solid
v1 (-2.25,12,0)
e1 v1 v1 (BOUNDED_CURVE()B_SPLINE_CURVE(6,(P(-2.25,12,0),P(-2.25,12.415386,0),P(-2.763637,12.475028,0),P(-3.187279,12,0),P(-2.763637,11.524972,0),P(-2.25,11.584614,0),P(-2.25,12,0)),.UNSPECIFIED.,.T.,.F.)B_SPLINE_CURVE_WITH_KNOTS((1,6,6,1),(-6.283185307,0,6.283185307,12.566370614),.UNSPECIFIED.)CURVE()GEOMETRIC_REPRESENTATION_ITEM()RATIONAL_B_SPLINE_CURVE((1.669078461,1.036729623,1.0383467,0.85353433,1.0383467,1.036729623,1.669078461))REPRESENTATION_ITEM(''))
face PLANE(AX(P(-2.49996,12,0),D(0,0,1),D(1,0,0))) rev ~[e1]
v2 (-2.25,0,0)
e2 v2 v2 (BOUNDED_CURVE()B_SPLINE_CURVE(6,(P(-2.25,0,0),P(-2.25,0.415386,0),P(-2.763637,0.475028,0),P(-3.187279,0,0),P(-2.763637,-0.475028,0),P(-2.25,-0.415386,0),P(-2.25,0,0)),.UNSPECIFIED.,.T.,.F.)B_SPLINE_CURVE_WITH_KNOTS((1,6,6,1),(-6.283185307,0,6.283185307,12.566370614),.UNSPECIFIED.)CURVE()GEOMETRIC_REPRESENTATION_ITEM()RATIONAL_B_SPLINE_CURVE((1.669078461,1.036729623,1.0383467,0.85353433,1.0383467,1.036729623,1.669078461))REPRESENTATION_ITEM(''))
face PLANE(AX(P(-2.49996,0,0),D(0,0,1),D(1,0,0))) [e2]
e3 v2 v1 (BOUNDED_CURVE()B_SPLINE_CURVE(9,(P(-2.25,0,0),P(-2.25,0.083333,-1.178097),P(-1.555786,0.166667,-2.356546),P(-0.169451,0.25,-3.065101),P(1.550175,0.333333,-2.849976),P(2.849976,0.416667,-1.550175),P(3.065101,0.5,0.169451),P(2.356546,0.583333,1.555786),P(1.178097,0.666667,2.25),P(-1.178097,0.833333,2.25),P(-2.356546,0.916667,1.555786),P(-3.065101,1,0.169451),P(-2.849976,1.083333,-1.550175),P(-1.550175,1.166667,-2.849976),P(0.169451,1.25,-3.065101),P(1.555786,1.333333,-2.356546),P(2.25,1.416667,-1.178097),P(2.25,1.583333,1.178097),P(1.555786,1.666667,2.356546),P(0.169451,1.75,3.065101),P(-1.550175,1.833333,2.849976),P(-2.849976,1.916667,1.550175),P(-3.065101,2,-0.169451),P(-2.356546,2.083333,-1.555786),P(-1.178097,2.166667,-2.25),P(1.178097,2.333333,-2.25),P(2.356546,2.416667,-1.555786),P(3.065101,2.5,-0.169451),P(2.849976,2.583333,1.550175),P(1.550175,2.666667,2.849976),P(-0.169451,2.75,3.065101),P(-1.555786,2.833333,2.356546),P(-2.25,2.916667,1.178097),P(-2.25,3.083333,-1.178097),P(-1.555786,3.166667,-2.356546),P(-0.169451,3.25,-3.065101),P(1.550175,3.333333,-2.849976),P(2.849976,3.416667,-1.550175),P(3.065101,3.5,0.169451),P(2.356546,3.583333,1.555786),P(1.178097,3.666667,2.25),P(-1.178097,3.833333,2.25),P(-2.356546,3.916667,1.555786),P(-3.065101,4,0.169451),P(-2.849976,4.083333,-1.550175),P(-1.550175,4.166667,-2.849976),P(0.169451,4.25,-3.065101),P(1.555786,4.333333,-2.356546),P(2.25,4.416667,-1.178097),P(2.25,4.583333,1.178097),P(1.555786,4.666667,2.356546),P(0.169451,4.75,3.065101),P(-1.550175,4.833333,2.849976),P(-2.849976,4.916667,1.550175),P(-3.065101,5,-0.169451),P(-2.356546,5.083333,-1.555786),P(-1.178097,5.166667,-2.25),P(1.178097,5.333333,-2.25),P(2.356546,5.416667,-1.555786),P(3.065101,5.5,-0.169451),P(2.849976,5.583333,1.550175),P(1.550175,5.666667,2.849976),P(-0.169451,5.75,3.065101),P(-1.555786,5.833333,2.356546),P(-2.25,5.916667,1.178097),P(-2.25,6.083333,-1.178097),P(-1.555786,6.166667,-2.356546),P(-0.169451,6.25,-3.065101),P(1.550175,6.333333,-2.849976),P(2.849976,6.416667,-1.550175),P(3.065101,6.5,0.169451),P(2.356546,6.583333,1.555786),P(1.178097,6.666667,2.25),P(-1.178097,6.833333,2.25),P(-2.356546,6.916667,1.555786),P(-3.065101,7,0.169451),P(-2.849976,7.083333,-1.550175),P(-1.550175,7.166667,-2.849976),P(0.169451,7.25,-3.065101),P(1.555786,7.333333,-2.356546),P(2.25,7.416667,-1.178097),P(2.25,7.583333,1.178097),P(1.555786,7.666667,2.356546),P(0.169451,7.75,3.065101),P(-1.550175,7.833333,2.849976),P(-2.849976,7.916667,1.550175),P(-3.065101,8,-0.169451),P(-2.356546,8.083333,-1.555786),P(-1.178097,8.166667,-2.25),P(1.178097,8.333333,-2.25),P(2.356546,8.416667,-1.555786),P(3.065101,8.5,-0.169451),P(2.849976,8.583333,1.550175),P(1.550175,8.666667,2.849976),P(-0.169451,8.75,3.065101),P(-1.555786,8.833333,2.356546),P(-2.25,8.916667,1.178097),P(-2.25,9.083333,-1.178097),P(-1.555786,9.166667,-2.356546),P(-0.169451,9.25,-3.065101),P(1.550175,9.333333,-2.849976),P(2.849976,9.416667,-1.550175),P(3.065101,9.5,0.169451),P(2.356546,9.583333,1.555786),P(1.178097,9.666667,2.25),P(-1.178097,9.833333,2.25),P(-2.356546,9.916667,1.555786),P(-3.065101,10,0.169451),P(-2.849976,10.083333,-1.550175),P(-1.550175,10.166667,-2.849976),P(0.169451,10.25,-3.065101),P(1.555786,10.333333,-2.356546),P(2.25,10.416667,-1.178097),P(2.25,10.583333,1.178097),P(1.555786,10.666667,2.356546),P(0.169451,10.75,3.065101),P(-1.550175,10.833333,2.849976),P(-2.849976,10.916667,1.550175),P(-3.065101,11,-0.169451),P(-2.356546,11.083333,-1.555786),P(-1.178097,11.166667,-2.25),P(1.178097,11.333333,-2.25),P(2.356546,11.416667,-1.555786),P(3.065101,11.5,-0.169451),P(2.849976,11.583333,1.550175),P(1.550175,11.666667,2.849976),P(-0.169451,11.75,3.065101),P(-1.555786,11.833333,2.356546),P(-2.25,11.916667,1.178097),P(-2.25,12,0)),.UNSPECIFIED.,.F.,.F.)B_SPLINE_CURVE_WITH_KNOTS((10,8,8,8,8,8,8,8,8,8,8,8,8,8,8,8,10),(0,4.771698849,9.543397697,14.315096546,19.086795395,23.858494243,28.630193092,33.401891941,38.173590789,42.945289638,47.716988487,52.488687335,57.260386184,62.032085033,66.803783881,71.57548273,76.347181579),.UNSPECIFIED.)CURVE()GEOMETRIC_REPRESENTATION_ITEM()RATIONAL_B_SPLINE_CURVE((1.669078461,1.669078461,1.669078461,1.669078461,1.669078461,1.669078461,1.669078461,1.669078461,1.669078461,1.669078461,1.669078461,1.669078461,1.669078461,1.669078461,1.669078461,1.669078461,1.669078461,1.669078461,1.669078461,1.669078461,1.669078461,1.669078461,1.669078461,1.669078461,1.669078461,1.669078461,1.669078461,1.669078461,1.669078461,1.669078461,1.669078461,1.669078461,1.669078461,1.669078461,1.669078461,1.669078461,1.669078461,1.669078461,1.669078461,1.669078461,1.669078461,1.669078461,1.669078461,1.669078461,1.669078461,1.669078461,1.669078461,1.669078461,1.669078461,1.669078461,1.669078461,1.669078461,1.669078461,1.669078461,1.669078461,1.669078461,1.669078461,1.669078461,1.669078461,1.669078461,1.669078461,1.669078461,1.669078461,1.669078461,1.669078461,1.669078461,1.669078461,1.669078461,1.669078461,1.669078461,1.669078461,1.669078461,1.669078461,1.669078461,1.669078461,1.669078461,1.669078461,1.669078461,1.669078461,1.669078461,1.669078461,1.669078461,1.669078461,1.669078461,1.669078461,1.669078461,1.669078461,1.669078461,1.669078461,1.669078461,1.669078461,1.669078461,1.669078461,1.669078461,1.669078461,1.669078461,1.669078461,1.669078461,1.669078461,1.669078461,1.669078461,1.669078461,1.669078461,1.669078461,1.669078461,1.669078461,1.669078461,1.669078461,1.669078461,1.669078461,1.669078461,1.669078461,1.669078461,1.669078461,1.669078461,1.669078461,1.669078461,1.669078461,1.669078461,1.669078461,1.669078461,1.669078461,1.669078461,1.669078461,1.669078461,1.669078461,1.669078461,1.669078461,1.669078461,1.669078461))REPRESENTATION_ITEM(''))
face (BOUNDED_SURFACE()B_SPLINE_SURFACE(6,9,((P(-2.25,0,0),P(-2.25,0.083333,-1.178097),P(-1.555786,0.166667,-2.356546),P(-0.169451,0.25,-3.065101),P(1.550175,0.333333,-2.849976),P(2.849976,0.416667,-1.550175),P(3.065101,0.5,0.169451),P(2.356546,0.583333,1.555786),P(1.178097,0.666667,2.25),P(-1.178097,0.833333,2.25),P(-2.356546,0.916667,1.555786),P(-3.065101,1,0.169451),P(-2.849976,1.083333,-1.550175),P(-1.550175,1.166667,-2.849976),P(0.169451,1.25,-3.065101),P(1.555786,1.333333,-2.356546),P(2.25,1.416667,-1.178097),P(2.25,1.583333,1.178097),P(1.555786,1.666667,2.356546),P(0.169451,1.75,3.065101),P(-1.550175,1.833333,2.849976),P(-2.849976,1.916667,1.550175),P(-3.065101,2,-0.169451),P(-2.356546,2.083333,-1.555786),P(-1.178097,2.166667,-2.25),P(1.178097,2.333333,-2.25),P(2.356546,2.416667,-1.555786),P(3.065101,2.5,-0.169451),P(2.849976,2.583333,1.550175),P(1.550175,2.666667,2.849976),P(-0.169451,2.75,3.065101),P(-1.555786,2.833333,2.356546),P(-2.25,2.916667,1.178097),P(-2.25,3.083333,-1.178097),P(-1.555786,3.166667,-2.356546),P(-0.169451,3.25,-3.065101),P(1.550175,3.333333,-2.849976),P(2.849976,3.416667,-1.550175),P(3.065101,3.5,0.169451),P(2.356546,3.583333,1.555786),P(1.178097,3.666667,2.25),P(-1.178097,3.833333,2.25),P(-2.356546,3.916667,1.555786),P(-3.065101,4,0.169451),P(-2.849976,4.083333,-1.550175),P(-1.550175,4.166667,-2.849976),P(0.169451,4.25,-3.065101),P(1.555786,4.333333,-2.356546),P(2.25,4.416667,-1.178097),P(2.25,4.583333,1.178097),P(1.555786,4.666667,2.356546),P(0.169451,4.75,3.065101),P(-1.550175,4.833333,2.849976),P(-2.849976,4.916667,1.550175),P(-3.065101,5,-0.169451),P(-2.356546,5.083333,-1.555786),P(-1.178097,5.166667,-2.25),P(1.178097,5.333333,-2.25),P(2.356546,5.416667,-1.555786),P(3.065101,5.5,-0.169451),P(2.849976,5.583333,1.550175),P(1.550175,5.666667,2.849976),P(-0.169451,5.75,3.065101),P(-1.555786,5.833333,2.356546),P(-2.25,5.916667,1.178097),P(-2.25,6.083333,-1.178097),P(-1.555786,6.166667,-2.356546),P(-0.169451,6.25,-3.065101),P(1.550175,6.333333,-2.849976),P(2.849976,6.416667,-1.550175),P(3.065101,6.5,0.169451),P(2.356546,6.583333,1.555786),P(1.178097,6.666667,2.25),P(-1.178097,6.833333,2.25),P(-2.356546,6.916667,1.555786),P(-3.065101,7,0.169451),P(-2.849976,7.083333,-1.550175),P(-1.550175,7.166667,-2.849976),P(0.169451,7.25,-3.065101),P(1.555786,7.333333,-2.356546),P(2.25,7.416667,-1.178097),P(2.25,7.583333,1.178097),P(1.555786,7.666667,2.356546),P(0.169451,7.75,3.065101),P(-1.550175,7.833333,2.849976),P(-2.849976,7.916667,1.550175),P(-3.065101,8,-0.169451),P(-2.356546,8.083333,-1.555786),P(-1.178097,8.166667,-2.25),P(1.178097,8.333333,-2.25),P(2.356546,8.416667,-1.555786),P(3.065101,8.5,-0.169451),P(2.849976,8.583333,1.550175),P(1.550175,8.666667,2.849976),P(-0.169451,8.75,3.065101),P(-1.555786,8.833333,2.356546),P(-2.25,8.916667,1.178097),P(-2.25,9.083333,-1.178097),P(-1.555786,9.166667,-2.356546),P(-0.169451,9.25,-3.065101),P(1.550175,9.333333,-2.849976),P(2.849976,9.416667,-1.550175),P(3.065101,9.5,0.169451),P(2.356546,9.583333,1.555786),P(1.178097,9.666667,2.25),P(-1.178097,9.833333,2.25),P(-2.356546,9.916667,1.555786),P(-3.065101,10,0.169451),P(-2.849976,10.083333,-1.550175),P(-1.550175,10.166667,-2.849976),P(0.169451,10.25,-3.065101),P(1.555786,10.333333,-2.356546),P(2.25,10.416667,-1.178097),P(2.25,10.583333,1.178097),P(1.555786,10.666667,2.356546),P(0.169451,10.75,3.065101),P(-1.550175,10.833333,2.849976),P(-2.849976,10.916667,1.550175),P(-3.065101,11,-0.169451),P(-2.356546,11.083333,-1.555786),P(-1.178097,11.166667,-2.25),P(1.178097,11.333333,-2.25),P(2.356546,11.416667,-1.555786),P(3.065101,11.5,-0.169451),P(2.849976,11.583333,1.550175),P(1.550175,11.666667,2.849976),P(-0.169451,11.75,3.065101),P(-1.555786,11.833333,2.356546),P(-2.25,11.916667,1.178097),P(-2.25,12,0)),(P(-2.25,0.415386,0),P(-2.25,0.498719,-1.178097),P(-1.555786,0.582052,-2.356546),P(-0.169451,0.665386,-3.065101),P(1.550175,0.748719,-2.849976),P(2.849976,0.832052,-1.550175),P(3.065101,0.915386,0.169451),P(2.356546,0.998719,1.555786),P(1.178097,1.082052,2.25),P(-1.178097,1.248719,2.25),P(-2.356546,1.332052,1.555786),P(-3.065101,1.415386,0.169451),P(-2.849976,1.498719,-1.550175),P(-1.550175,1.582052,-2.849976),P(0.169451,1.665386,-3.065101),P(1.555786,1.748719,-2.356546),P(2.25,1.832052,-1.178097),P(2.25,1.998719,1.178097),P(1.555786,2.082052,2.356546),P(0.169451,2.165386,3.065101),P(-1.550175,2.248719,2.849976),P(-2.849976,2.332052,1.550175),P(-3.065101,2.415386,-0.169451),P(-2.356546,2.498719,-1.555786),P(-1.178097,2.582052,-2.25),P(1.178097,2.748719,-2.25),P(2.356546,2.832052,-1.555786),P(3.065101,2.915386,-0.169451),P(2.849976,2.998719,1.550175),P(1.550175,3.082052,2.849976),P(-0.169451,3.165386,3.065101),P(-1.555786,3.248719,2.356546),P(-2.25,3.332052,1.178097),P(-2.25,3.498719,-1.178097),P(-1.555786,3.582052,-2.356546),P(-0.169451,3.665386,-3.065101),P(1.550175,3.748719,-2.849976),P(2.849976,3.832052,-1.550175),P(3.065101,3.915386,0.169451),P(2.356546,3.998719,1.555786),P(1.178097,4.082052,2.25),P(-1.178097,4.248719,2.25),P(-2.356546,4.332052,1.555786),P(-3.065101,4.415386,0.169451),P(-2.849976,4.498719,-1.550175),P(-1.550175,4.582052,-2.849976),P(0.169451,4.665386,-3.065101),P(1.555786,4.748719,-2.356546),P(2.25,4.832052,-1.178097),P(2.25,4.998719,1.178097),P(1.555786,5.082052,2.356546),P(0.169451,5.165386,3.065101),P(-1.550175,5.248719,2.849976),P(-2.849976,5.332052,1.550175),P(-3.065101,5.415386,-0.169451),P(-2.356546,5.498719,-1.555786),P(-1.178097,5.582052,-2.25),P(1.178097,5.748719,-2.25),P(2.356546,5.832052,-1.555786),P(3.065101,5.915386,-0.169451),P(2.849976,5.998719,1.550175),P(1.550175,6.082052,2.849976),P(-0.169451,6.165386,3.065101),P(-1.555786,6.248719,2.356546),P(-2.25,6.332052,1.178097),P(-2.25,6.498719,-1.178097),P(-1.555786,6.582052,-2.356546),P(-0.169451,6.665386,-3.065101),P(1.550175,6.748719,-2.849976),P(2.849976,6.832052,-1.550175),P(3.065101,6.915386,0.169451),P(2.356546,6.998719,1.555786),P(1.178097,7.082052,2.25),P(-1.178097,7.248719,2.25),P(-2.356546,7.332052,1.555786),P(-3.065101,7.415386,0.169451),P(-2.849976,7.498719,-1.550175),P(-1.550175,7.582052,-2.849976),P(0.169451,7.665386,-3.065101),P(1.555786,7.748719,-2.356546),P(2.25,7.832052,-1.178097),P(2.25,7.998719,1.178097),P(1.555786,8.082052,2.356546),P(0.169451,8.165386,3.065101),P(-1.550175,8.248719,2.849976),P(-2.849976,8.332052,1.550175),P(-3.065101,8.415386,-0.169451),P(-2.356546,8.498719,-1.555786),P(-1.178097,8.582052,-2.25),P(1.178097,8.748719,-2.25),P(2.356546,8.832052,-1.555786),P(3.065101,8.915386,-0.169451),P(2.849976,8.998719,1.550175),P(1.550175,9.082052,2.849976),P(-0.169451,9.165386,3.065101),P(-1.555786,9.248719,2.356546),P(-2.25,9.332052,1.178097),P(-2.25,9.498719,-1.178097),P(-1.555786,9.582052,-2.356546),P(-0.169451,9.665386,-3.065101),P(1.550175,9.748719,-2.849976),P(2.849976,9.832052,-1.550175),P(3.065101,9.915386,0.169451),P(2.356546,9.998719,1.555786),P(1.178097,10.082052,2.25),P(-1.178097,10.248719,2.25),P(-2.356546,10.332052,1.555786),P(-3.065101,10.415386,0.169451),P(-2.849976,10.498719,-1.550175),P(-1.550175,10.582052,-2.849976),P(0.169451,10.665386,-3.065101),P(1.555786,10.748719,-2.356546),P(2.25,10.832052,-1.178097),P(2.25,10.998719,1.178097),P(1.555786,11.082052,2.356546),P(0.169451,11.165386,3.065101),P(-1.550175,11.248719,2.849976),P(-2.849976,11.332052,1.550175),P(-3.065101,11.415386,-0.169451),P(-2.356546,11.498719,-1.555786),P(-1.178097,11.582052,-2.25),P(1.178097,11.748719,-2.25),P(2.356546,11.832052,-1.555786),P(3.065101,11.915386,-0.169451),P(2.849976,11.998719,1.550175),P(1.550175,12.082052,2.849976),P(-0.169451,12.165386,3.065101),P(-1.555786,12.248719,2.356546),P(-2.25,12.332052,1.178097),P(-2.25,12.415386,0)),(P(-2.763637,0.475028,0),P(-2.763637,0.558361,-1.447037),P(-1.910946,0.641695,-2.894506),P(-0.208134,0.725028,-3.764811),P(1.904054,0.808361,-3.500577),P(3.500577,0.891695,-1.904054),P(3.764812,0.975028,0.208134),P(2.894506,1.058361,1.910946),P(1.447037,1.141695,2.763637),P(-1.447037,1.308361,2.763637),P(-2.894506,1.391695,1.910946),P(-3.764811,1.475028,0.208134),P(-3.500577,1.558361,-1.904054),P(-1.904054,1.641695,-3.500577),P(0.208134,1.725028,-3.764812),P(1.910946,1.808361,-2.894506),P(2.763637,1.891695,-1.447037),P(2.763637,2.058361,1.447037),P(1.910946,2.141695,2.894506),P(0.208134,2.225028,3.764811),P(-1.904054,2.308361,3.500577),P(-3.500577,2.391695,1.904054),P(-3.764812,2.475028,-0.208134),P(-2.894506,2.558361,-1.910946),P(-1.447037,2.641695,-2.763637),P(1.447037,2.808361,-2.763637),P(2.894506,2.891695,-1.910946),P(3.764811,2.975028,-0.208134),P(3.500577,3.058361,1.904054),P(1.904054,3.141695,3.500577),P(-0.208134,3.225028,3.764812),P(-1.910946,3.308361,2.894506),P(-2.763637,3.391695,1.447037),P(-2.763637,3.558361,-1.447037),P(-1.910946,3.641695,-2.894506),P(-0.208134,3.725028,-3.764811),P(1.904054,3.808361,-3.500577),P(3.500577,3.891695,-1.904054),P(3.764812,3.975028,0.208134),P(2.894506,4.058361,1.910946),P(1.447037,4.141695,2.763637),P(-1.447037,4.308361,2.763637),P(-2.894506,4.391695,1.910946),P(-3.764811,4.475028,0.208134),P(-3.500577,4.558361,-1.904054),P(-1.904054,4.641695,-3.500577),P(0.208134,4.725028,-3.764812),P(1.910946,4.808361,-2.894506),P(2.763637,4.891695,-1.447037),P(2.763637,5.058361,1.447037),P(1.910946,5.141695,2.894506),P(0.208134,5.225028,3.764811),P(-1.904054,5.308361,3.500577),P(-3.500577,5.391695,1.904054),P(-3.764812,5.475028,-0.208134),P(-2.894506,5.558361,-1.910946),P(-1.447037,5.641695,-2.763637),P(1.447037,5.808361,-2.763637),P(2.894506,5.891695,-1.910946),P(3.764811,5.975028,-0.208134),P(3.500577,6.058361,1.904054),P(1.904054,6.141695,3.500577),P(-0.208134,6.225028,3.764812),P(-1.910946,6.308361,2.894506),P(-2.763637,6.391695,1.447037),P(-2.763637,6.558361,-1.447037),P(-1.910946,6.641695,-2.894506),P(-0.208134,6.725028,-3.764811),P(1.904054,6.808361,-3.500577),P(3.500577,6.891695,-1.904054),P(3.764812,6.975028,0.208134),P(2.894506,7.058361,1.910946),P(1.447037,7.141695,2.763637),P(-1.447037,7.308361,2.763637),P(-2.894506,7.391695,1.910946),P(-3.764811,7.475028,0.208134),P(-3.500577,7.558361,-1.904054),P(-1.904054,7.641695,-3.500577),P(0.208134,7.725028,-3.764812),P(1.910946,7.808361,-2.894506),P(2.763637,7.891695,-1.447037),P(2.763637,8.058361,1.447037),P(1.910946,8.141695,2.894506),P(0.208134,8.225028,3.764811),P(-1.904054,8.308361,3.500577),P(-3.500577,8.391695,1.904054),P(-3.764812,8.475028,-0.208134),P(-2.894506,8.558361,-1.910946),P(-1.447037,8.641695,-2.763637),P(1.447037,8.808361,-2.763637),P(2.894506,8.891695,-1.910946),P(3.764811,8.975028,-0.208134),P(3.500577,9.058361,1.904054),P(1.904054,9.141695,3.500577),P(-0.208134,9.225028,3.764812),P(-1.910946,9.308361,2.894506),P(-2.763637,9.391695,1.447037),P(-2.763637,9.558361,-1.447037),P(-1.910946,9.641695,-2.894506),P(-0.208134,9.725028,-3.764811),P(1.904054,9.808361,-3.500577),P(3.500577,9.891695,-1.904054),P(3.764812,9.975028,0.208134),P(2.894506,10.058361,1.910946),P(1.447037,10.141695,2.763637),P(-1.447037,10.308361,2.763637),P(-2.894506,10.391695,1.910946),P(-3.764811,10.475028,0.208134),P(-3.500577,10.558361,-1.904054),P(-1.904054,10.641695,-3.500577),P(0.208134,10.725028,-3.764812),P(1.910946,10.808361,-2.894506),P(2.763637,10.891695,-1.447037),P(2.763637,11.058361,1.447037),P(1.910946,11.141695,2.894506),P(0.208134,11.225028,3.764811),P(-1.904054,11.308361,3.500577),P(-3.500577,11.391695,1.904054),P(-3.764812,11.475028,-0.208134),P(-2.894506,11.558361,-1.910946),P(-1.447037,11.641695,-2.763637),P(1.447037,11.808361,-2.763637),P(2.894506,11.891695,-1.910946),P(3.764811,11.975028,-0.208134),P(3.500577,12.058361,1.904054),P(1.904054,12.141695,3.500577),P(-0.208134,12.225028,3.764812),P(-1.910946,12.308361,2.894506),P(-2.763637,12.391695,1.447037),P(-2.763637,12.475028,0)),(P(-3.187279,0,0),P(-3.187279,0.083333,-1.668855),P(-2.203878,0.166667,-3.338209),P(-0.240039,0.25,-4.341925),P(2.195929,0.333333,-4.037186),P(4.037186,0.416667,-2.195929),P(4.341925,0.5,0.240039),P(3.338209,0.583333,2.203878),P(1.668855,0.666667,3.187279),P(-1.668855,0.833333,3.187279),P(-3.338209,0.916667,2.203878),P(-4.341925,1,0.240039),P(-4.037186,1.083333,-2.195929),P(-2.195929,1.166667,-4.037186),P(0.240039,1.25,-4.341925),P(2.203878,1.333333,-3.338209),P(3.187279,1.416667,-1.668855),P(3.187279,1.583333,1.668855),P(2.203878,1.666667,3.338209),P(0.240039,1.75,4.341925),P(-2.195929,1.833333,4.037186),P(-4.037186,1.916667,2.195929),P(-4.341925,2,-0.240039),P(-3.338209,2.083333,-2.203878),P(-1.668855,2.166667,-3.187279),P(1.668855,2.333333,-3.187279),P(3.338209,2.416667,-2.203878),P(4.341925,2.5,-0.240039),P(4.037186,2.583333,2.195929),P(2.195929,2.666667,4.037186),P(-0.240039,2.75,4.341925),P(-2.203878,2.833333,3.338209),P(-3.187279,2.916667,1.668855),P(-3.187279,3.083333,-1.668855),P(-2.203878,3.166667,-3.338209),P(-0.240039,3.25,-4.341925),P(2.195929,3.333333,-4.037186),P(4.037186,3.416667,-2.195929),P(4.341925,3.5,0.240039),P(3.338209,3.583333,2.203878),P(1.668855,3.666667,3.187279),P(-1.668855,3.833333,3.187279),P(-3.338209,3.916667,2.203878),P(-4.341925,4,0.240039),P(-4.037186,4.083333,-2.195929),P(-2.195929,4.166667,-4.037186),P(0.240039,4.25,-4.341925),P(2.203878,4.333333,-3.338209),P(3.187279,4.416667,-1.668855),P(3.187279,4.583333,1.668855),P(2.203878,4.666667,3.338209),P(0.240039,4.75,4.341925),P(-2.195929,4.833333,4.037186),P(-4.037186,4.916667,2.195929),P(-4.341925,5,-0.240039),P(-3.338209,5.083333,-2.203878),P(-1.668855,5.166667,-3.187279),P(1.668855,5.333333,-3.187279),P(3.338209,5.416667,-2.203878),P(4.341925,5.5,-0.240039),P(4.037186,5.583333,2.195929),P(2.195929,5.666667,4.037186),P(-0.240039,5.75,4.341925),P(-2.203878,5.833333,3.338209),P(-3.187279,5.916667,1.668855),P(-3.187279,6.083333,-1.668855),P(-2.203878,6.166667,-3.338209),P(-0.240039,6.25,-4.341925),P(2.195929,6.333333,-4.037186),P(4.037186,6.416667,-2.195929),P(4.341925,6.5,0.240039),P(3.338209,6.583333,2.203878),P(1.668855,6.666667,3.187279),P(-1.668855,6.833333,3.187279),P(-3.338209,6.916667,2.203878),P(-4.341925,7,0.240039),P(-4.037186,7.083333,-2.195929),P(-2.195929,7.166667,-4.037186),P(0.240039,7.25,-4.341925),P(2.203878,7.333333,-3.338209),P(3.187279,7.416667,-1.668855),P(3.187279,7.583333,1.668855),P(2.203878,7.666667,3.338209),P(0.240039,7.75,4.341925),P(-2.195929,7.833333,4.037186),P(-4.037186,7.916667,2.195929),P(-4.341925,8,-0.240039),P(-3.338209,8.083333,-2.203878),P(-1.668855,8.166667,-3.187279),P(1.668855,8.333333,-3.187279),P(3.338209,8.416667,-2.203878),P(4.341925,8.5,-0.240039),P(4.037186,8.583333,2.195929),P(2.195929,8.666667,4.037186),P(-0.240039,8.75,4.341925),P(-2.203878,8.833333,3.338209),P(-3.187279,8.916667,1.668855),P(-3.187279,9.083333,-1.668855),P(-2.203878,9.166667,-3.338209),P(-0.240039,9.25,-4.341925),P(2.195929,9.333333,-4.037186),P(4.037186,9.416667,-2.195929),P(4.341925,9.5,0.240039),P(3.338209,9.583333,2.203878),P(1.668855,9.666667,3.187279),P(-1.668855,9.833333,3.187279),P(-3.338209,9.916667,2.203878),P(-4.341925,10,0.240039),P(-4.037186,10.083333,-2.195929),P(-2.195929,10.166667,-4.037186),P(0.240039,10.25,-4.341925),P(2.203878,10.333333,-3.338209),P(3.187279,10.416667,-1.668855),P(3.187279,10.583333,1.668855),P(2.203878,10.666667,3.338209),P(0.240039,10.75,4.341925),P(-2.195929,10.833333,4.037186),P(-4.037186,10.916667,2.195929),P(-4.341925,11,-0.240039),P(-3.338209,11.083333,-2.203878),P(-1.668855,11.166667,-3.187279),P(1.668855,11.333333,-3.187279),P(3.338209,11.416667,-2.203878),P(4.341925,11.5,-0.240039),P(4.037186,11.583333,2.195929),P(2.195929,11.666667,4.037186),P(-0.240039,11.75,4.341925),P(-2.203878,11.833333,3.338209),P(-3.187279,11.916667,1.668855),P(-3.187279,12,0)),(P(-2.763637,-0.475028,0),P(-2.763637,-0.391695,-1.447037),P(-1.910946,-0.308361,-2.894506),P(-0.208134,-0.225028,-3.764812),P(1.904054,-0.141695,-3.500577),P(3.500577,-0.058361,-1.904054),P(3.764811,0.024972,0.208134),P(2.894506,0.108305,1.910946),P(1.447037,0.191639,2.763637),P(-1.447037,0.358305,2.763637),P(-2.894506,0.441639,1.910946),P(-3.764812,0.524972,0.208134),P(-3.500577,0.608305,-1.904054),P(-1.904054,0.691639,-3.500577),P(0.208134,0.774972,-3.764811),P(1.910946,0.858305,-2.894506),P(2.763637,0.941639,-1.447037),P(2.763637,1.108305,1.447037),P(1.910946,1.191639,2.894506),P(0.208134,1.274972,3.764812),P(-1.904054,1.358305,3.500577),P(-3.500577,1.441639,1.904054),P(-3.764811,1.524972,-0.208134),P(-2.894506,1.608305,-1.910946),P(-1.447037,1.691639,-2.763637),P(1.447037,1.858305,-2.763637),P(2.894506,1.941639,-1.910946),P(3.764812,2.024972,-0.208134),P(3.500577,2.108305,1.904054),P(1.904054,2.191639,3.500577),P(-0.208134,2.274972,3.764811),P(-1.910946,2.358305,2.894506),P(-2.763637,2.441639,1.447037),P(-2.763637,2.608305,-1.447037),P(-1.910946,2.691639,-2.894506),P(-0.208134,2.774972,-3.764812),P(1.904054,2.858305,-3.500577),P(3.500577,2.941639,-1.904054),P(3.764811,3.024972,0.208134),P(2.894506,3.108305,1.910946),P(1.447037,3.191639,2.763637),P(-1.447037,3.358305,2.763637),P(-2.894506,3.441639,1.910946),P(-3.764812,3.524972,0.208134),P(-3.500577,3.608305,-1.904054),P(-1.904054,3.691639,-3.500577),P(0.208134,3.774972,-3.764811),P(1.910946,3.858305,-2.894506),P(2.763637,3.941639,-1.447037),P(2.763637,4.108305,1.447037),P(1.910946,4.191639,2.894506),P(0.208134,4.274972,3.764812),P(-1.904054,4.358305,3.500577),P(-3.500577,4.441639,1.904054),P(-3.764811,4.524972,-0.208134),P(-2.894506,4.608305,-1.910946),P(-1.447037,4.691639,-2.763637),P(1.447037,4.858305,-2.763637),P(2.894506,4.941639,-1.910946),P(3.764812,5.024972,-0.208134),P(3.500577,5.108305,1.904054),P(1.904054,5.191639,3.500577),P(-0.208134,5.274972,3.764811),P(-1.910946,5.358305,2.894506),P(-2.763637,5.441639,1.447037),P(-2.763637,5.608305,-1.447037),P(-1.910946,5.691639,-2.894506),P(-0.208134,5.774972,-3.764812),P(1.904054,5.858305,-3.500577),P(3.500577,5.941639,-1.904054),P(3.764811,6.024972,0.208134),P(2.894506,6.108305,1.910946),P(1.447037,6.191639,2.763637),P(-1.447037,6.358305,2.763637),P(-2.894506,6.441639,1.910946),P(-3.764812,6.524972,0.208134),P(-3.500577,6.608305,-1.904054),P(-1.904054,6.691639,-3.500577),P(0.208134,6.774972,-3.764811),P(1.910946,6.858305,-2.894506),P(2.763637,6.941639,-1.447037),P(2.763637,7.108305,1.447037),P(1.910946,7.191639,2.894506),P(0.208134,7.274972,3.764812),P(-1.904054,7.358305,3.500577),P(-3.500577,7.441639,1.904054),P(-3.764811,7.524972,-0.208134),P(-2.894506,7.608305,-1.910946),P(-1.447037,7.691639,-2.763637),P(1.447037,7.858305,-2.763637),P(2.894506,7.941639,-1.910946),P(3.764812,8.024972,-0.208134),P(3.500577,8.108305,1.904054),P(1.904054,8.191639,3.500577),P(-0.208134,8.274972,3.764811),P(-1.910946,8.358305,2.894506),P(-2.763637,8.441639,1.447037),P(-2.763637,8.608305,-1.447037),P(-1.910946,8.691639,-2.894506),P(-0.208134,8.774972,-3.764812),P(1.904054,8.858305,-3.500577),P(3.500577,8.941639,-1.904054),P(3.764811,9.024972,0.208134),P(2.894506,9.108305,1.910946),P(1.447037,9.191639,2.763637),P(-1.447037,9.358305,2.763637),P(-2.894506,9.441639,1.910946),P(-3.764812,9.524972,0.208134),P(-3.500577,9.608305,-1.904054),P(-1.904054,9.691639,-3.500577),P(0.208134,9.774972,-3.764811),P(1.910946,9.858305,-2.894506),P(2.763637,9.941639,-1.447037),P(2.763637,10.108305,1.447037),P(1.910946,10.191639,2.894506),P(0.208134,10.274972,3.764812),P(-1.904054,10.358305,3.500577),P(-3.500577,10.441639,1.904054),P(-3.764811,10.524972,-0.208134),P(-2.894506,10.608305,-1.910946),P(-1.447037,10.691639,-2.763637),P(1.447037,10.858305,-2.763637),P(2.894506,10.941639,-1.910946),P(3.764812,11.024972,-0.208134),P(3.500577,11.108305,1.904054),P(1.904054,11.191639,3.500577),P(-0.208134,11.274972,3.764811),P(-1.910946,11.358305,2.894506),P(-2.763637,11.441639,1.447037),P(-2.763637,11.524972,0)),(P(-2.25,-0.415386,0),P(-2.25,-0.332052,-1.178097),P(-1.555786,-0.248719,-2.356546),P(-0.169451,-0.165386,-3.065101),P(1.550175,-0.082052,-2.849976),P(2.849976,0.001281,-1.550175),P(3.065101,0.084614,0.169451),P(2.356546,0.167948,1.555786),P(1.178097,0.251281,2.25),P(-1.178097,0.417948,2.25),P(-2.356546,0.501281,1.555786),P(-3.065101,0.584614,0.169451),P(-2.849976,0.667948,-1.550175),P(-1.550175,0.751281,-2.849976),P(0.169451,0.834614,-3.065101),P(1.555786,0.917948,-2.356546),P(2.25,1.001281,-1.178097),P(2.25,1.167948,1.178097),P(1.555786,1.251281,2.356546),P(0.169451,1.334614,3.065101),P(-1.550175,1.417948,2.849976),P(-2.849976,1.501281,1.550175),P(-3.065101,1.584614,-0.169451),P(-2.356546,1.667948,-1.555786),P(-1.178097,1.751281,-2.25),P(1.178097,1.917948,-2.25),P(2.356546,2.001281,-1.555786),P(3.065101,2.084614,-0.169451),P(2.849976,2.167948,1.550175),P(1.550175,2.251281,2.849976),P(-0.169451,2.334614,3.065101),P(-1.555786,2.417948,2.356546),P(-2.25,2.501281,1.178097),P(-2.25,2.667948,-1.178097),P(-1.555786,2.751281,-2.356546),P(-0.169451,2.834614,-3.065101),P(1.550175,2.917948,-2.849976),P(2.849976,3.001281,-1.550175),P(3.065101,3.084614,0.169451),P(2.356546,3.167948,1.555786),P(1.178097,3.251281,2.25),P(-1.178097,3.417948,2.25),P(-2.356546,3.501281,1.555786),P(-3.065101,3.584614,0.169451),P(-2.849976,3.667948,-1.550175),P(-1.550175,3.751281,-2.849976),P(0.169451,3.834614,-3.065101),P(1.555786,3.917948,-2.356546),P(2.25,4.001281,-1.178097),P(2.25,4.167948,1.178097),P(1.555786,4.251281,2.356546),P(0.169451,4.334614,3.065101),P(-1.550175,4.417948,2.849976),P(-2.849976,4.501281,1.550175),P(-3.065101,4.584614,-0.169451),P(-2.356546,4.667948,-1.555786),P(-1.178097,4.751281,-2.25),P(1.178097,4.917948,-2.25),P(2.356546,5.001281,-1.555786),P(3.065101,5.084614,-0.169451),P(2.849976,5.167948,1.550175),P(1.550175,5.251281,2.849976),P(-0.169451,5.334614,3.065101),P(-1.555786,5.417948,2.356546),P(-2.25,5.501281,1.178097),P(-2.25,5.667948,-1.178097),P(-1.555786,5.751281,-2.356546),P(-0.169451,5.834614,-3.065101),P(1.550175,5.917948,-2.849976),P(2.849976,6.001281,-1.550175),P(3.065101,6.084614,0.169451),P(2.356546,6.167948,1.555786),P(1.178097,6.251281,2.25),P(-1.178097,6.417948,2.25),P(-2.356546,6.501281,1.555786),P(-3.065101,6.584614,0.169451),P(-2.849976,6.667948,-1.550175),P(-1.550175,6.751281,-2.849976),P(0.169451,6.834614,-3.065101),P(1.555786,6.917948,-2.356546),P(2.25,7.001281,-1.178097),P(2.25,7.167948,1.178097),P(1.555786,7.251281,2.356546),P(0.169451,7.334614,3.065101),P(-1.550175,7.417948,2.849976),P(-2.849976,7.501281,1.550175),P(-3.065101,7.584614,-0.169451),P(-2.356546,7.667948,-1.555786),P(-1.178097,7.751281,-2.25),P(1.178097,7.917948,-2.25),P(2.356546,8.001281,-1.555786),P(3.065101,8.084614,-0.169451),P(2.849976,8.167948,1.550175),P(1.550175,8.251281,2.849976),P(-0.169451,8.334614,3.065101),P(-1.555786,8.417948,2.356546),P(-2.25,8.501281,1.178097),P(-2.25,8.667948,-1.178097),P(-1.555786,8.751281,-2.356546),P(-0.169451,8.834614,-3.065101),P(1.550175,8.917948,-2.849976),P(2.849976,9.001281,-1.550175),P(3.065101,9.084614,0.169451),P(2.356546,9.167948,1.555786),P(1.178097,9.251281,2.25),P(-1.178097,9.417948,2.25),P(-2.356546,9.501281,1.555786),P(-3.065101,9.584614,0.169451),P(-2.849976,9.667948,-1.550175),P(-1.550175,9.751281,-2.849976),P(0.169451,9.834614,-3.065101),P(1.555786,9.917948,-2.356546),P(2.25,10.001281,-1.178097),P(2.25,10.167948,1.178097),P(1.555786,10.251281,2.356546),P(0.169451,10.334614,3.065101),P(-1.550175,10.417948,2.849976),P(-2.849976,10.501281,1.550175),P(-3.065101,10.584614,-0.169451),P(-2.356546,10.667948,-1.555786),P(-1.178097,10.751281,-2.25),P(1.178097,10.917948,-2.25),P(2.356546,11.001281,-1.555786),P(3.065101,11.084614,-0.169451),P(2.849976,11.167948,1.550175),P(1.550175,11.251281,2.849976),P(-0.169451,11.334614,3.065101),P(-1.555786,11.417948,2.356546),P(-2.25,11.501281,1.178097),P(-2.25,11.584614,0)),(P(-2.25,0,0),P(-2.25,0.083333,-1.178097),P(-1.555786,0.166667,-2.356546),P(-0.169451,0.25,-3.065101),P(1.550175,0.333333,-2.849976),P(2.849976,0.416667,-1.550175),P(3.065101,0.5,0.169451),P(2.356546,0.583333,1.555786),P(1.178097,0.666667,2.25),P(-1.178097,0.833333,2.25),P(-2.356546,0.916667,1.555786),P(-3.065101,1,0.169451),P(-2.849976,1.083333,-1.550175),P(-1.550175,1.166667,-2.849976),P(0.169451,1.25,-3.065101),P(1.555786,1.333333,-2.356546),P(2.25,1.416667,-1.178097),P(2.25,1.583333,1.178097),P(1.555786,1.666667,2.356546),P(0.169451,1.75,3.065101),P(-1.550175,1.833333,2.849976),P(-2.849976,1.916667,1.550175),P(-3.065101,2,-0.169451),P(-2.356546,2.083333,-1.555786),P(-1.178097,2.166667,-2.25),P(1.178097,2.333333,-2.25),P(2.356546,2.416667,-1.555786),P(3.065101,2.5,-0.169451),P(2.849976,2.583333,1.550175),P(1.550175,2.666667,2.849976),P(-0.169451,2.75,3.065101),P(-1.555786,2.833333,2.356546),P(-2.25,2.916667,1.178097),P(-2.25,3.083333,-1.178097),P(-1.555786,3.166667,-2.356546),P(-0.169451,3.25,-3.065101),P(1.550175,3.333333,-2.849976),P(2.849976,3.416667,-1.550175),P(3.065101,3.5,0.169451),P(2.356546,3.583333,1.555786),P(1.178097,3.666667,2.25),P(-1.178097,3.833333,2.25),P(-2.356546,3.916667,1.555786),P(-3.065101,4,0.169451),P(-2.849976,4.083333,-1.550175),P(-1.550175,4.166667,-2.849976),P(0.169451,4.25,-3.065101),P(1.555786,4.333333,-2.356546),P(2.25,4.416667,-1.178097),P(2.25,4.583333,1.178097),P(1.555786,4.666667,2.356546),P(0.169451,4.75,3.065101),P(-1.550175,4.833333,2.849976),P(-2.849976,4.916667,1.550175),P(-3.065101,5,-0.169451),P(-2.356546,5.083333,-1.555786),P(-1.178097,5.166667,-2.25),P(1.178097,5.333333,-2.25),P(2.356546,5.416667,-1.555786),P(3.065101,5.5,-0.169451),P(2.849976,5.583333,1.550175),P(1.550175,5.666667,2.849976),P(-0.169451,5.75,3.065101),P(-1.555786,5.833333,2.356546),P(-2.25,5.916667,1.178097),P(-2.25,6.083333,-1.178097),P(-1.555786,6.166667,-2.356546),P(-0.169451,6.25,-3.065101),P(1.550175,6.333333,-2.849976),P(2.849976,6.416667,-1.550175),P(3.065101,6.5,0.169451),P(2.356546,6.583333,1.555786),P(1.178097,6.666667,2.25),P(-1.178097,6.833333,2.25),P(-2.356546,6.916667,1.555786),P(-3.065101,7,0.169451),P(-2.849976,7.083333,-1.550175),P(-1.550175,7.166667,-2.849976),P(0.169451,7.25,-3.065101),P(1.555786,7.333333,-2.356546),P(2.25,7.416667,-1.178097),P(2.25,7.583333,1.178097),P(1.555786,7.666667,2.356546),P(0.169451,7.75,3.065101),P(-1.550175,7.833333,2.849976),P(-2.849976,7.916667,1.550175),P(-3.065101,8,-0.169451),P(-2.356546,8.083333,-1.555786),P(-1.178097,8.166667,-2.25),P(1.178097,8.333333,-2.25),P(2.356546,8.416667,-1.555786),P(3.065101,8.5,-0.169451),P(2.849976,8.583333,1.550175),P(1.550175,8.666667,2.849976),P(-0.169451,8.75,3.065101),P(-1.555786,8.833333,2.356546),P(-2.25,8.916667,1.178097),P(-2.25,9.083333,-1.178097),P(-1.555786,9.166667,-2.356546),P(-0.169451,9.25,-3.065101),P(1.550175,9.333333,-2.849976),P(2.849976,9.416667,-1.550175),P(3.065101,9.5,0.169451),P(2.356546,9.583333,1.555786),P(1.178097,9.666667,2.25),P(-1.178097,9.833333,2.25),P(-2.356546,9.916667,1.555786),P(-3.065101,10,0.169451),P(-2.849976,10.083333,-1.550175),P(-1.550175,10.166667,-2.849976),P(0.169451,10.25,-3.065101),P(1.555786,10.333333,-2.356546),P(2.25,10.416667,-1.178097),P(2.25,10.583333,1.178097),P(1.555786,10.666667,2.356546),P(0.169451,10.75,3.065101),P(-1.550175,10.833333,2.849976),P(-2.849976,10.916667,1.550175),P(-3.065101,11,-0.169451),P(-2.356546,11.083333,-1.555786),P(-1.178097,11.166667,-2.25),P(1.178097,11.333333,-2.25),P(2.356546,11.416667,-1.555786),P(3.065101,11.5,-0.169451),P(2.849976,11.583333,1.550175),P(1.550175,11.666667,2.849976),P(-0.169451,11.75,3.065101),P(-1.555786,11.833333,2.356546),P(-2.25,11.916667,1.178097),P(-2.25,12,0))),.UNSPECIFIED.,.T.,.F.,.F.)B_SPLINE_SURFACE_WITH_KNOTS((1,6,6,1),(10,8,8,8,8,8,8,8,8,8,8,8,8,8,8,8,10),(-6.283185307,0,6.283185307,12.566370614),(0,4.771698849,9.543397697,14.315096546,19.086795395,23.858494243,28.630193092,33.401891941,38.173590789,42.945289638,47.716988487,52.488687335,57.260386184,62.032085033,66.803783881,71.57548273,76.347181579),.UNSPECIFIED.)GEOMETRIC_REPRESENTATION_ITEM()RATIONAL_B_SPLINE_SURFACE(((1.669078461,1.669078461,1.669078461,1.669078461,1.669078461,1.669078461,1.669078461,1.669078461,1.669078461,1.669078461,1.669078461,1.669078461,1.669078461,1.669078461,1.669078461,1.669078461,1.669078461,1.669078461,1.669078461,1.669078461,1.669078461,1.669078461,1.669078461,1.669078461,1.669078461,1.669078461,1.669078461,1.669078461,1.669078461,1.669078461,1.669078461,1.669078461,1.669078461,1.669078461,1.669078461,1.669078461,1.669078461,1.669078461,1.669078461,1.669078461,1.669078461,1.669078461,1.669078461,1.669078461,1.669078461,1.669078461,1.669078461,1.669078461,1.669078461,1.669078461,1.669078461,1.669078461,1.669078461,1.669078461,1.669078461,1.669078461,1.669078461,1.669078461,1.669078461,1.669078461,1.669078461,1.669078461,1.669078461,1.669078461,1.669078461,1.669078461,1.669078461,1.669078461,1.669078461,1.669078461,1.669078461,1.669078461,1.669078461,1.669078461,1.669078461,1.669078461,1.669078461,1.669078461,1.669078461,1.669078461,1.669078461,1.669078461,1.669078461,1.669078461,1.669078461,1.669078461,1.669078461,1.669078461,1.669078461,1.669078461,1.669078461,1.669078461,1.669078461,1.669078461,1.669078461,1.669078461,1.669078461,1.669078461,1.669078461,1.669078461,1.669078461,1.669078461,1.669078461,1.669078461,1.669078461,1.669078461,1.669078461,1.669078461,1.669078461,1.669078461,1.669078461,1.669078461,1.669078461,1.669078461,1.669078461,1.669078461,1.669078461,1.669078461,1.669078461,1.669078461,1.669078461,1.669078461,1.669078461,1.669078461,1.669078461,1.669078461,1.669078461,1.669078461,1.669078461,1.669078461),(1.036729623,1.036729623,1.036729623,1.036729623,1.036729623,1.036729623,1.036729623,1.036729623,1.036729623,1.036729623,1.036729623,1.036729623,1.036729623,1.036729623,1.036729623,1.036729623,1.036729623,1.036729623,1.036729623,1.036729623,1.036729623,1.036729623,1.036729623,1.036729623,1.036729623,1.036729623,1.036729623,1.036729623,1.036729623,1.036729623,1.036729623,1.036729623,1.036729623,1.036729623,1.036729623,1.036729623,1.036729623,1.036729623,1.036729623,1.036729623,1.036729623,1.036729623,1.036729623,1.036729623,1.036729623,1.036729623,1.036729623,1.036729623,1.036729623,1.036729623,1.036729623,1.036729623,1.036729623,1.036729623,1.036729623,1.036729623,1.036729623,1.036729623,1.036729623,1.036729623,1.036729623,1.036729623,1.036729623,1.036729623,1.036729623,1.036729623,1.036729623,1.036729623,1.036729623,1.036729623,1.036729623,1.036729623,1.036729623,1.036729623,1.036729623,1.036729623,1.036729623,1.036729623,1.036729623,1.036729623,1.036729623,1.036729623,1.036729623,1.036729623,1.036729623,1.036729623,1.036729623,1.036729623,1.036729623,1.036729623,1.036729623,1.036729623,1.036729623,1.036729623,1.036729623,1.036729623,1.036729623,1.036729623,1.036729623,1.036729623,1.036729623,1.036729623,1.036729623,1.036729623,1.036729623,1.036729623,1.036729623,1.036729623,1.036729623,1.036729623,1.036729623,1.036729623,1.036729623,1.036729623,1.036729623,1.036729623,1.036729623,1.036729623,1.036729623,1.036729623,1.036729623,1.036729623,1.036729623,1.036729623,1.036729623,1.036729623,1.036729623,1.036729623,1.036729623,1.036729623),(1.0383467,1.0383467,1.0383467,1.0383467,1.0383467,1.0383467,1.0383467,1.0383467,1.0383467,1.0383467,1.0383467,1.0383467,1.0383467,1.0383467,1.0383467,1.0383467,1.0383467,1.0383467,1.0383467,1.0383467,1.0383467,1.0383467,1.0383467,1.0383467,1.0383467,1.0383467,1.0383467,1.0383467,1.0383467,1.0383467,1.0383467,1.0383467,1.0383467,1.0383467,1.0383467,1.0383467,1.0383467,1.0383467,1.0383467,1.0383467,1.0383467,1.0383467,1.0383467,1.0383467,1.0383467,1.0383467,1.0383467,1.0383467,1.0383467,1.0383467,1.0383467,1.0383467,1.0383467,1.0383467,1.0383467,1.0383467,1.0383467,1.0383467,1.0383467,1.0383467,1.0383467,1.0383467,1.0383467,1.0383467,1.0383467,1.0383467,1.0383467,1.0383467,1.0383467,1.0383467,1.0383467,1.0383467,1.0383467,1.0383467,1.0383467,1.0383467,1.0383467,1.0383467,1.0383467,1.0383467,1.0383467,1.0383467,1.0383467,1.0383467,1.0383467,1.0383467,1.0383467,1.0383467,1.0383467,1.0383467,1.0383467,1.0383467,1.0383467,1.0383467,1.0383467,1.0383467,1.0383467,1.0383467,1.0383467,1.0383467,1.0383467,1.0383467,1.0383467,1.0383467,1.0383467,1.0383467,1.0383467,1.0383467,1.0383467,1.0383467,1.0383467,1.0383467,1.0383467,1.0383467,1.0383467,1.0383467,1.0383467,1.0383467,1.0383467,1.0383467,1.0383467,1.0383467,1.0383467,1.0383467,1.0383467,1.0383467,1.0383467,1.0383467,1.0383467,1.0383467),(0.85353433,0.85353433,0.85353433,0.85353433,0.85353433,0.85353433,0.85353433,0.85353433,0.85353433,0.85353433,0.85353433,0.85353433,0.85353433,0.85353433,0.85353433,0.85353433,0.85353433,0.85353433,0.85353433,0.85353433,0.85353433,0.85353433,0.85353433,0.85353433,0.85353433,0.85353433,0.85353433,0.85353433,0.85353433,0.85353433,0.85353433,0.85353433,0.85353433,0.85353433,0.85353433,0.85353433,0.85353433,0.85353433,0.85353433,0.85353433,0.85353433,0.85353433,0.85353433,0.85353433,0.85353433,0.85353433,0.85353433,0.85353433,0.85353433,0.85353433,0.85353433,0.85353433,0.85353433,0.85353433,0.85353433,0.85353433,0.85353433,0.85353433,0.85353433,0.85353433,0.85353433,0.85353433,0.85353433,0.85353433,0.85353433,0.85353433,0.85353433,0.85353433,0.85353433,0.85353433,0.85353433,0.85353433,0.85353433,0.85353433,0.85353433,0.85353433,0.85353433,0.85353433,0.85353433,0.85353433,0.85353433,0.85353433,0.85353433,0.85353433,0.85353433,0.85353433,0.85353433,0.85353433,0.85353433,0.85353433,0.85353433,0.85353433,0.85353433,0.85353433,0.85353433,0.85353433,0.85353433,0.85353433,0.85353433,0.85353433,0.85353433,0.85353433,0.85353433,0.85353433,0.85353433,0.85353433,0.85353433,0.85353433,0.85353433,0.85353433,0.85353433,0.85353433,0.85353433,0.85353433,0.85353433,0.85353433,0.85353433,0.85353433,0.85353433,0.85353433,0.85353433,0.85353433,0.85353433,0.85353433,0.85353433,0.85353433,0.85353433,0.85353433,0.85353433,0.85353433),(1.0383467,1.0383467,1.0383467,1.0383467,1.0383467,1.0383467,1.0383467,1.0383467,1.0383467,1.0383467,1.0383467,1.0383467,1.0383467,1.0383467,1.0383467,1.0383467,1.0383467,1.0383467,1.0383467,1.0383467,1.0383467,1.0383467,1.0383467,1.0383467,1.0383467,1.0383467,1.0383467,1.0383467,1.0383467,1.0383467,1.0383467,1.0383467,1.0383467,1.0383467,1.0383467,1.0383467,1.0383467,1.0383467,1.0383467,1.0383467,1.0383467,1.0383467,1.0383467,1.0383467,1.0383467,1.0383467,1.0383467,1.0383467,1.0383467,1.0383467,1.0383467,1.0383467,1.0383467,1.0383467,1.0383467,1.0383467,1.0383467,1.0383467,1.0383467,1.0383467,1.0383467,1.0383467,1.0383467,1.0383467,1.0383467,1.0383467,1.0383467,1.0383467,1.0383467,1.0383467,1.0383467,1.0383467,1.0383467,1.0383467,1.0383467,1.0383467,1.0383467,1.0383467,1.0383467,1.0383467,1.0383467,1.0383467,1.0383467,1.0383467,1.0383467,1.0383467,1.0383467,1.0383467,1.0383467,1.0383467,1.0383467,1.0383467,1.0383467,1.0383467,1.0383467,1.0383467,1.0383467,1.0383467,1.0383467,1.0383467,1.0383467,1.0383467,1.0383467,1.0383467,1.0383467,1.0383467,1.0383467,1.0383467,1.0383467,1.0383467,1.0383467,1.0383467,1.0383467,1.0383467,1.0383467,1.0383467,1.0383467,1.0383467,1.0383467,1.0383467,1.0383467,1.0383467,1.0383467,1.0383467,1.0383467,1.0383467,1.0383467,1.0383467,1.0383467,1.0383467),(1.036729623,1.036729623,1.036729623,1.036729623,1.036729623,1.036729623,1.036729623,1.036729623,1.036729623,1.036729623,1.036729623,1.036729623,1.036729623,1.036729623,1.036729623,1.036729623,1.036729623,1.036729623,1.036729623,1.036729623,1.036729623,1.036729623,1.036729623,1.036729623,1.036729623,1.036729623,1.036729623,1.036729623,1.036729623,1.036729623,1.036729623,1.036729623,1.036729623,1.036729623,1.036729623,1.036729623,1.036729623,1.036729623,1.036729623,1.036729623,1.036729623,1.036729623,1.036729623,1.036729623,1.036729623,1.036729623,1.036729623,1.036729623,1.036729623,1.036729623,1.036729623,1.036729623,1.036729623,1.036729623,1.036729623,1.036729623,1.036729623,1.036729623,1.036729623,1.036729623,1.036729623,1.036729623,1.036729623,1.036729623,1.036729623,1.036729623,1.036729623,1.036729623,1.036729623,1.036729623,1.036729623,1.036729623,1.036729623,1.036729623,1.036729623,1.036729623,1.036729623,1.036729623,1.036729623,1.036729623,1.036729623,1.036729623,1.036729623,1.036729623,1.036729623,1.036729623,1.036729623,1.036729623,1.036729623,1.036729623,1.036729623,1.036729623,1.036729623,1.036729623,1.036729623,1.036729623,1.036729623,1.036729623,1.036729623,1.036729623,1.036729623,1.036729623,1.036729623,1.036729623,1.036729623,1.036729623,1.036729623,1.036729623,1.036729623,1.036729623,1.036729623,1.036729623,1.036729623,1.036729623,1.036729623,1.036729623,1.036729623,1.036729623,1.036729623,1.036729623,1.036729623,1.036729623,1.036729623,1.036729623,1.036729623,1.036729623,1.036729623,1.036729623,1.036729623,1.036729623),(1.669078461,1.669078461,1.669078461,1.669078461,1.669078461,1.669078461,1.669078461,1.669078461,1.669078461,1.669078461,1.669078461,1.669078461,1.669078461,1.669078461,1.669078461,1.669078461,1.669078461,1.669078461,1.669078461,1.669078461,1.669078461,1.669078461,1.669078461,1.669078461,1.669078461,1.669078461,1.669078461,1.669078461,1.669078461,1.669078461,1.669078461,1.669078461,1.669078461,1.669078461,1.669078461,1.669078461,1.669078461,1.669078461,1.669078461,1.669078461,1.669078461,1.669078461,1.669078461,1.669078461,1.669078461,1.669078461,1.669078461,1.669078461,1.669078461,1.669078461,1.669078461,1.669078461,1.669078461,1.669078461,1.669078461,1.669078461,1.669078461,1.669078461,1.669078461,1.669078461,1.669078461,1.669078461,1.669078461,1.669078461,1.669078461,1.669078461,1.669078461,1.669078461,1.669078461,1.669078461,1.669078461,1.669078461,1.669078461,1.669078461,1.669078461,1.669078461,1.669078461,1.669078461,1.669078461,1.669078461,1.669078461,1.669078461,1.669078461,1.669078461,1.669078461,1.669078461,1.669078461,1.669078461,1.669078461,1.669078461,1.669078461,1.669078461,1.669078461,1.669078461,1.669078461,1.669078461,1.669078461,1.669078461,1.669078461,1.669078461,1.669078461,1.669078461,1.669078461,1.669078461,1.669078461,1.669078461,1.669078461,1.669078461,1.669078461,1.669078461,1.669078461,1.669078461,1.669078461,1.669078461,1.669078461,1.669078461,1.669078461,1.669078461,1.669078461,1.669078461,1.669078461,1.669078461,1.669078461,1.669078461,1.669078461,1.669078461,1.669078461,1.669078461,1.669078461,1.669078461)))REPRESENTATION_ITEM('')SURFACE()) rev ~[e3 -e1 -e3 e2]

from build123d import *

# Parameters (mm, degrees)
SWEEP1_PITCH       = 1
SWEEP1_HEIGHT      = 12
SWEEP1_RADIUS      = 2.5
SWEEP1_START_ANGLE = -90
SKETCH6_R          = 0.25


with BuildPart() as part:
    # Sweep1: sweep along a helix
    with BuildLine() as sweep1_path:
        add(Helix(SWEEP1_PITCH, SWEEP1_HEIGHT, SWEEP1_RADIUS, center=(0, 0, 0), direction=(0, 1, 0), lefthand=True, mode=Mode.PRIVATE).rotate(Axis((0, 0, 0), (0, 1, 0)), SWEEP1_START_ANGLE))
    # Sketch6 → Sweep1 (sweep)
    with BuildSketch(Plane.XY):
        with Locations((-2.5, 12)):
            Circle(SKETCH6_R)
    sweep(path=sweep1_path.line, is_frenet=True)


solid = part.part
